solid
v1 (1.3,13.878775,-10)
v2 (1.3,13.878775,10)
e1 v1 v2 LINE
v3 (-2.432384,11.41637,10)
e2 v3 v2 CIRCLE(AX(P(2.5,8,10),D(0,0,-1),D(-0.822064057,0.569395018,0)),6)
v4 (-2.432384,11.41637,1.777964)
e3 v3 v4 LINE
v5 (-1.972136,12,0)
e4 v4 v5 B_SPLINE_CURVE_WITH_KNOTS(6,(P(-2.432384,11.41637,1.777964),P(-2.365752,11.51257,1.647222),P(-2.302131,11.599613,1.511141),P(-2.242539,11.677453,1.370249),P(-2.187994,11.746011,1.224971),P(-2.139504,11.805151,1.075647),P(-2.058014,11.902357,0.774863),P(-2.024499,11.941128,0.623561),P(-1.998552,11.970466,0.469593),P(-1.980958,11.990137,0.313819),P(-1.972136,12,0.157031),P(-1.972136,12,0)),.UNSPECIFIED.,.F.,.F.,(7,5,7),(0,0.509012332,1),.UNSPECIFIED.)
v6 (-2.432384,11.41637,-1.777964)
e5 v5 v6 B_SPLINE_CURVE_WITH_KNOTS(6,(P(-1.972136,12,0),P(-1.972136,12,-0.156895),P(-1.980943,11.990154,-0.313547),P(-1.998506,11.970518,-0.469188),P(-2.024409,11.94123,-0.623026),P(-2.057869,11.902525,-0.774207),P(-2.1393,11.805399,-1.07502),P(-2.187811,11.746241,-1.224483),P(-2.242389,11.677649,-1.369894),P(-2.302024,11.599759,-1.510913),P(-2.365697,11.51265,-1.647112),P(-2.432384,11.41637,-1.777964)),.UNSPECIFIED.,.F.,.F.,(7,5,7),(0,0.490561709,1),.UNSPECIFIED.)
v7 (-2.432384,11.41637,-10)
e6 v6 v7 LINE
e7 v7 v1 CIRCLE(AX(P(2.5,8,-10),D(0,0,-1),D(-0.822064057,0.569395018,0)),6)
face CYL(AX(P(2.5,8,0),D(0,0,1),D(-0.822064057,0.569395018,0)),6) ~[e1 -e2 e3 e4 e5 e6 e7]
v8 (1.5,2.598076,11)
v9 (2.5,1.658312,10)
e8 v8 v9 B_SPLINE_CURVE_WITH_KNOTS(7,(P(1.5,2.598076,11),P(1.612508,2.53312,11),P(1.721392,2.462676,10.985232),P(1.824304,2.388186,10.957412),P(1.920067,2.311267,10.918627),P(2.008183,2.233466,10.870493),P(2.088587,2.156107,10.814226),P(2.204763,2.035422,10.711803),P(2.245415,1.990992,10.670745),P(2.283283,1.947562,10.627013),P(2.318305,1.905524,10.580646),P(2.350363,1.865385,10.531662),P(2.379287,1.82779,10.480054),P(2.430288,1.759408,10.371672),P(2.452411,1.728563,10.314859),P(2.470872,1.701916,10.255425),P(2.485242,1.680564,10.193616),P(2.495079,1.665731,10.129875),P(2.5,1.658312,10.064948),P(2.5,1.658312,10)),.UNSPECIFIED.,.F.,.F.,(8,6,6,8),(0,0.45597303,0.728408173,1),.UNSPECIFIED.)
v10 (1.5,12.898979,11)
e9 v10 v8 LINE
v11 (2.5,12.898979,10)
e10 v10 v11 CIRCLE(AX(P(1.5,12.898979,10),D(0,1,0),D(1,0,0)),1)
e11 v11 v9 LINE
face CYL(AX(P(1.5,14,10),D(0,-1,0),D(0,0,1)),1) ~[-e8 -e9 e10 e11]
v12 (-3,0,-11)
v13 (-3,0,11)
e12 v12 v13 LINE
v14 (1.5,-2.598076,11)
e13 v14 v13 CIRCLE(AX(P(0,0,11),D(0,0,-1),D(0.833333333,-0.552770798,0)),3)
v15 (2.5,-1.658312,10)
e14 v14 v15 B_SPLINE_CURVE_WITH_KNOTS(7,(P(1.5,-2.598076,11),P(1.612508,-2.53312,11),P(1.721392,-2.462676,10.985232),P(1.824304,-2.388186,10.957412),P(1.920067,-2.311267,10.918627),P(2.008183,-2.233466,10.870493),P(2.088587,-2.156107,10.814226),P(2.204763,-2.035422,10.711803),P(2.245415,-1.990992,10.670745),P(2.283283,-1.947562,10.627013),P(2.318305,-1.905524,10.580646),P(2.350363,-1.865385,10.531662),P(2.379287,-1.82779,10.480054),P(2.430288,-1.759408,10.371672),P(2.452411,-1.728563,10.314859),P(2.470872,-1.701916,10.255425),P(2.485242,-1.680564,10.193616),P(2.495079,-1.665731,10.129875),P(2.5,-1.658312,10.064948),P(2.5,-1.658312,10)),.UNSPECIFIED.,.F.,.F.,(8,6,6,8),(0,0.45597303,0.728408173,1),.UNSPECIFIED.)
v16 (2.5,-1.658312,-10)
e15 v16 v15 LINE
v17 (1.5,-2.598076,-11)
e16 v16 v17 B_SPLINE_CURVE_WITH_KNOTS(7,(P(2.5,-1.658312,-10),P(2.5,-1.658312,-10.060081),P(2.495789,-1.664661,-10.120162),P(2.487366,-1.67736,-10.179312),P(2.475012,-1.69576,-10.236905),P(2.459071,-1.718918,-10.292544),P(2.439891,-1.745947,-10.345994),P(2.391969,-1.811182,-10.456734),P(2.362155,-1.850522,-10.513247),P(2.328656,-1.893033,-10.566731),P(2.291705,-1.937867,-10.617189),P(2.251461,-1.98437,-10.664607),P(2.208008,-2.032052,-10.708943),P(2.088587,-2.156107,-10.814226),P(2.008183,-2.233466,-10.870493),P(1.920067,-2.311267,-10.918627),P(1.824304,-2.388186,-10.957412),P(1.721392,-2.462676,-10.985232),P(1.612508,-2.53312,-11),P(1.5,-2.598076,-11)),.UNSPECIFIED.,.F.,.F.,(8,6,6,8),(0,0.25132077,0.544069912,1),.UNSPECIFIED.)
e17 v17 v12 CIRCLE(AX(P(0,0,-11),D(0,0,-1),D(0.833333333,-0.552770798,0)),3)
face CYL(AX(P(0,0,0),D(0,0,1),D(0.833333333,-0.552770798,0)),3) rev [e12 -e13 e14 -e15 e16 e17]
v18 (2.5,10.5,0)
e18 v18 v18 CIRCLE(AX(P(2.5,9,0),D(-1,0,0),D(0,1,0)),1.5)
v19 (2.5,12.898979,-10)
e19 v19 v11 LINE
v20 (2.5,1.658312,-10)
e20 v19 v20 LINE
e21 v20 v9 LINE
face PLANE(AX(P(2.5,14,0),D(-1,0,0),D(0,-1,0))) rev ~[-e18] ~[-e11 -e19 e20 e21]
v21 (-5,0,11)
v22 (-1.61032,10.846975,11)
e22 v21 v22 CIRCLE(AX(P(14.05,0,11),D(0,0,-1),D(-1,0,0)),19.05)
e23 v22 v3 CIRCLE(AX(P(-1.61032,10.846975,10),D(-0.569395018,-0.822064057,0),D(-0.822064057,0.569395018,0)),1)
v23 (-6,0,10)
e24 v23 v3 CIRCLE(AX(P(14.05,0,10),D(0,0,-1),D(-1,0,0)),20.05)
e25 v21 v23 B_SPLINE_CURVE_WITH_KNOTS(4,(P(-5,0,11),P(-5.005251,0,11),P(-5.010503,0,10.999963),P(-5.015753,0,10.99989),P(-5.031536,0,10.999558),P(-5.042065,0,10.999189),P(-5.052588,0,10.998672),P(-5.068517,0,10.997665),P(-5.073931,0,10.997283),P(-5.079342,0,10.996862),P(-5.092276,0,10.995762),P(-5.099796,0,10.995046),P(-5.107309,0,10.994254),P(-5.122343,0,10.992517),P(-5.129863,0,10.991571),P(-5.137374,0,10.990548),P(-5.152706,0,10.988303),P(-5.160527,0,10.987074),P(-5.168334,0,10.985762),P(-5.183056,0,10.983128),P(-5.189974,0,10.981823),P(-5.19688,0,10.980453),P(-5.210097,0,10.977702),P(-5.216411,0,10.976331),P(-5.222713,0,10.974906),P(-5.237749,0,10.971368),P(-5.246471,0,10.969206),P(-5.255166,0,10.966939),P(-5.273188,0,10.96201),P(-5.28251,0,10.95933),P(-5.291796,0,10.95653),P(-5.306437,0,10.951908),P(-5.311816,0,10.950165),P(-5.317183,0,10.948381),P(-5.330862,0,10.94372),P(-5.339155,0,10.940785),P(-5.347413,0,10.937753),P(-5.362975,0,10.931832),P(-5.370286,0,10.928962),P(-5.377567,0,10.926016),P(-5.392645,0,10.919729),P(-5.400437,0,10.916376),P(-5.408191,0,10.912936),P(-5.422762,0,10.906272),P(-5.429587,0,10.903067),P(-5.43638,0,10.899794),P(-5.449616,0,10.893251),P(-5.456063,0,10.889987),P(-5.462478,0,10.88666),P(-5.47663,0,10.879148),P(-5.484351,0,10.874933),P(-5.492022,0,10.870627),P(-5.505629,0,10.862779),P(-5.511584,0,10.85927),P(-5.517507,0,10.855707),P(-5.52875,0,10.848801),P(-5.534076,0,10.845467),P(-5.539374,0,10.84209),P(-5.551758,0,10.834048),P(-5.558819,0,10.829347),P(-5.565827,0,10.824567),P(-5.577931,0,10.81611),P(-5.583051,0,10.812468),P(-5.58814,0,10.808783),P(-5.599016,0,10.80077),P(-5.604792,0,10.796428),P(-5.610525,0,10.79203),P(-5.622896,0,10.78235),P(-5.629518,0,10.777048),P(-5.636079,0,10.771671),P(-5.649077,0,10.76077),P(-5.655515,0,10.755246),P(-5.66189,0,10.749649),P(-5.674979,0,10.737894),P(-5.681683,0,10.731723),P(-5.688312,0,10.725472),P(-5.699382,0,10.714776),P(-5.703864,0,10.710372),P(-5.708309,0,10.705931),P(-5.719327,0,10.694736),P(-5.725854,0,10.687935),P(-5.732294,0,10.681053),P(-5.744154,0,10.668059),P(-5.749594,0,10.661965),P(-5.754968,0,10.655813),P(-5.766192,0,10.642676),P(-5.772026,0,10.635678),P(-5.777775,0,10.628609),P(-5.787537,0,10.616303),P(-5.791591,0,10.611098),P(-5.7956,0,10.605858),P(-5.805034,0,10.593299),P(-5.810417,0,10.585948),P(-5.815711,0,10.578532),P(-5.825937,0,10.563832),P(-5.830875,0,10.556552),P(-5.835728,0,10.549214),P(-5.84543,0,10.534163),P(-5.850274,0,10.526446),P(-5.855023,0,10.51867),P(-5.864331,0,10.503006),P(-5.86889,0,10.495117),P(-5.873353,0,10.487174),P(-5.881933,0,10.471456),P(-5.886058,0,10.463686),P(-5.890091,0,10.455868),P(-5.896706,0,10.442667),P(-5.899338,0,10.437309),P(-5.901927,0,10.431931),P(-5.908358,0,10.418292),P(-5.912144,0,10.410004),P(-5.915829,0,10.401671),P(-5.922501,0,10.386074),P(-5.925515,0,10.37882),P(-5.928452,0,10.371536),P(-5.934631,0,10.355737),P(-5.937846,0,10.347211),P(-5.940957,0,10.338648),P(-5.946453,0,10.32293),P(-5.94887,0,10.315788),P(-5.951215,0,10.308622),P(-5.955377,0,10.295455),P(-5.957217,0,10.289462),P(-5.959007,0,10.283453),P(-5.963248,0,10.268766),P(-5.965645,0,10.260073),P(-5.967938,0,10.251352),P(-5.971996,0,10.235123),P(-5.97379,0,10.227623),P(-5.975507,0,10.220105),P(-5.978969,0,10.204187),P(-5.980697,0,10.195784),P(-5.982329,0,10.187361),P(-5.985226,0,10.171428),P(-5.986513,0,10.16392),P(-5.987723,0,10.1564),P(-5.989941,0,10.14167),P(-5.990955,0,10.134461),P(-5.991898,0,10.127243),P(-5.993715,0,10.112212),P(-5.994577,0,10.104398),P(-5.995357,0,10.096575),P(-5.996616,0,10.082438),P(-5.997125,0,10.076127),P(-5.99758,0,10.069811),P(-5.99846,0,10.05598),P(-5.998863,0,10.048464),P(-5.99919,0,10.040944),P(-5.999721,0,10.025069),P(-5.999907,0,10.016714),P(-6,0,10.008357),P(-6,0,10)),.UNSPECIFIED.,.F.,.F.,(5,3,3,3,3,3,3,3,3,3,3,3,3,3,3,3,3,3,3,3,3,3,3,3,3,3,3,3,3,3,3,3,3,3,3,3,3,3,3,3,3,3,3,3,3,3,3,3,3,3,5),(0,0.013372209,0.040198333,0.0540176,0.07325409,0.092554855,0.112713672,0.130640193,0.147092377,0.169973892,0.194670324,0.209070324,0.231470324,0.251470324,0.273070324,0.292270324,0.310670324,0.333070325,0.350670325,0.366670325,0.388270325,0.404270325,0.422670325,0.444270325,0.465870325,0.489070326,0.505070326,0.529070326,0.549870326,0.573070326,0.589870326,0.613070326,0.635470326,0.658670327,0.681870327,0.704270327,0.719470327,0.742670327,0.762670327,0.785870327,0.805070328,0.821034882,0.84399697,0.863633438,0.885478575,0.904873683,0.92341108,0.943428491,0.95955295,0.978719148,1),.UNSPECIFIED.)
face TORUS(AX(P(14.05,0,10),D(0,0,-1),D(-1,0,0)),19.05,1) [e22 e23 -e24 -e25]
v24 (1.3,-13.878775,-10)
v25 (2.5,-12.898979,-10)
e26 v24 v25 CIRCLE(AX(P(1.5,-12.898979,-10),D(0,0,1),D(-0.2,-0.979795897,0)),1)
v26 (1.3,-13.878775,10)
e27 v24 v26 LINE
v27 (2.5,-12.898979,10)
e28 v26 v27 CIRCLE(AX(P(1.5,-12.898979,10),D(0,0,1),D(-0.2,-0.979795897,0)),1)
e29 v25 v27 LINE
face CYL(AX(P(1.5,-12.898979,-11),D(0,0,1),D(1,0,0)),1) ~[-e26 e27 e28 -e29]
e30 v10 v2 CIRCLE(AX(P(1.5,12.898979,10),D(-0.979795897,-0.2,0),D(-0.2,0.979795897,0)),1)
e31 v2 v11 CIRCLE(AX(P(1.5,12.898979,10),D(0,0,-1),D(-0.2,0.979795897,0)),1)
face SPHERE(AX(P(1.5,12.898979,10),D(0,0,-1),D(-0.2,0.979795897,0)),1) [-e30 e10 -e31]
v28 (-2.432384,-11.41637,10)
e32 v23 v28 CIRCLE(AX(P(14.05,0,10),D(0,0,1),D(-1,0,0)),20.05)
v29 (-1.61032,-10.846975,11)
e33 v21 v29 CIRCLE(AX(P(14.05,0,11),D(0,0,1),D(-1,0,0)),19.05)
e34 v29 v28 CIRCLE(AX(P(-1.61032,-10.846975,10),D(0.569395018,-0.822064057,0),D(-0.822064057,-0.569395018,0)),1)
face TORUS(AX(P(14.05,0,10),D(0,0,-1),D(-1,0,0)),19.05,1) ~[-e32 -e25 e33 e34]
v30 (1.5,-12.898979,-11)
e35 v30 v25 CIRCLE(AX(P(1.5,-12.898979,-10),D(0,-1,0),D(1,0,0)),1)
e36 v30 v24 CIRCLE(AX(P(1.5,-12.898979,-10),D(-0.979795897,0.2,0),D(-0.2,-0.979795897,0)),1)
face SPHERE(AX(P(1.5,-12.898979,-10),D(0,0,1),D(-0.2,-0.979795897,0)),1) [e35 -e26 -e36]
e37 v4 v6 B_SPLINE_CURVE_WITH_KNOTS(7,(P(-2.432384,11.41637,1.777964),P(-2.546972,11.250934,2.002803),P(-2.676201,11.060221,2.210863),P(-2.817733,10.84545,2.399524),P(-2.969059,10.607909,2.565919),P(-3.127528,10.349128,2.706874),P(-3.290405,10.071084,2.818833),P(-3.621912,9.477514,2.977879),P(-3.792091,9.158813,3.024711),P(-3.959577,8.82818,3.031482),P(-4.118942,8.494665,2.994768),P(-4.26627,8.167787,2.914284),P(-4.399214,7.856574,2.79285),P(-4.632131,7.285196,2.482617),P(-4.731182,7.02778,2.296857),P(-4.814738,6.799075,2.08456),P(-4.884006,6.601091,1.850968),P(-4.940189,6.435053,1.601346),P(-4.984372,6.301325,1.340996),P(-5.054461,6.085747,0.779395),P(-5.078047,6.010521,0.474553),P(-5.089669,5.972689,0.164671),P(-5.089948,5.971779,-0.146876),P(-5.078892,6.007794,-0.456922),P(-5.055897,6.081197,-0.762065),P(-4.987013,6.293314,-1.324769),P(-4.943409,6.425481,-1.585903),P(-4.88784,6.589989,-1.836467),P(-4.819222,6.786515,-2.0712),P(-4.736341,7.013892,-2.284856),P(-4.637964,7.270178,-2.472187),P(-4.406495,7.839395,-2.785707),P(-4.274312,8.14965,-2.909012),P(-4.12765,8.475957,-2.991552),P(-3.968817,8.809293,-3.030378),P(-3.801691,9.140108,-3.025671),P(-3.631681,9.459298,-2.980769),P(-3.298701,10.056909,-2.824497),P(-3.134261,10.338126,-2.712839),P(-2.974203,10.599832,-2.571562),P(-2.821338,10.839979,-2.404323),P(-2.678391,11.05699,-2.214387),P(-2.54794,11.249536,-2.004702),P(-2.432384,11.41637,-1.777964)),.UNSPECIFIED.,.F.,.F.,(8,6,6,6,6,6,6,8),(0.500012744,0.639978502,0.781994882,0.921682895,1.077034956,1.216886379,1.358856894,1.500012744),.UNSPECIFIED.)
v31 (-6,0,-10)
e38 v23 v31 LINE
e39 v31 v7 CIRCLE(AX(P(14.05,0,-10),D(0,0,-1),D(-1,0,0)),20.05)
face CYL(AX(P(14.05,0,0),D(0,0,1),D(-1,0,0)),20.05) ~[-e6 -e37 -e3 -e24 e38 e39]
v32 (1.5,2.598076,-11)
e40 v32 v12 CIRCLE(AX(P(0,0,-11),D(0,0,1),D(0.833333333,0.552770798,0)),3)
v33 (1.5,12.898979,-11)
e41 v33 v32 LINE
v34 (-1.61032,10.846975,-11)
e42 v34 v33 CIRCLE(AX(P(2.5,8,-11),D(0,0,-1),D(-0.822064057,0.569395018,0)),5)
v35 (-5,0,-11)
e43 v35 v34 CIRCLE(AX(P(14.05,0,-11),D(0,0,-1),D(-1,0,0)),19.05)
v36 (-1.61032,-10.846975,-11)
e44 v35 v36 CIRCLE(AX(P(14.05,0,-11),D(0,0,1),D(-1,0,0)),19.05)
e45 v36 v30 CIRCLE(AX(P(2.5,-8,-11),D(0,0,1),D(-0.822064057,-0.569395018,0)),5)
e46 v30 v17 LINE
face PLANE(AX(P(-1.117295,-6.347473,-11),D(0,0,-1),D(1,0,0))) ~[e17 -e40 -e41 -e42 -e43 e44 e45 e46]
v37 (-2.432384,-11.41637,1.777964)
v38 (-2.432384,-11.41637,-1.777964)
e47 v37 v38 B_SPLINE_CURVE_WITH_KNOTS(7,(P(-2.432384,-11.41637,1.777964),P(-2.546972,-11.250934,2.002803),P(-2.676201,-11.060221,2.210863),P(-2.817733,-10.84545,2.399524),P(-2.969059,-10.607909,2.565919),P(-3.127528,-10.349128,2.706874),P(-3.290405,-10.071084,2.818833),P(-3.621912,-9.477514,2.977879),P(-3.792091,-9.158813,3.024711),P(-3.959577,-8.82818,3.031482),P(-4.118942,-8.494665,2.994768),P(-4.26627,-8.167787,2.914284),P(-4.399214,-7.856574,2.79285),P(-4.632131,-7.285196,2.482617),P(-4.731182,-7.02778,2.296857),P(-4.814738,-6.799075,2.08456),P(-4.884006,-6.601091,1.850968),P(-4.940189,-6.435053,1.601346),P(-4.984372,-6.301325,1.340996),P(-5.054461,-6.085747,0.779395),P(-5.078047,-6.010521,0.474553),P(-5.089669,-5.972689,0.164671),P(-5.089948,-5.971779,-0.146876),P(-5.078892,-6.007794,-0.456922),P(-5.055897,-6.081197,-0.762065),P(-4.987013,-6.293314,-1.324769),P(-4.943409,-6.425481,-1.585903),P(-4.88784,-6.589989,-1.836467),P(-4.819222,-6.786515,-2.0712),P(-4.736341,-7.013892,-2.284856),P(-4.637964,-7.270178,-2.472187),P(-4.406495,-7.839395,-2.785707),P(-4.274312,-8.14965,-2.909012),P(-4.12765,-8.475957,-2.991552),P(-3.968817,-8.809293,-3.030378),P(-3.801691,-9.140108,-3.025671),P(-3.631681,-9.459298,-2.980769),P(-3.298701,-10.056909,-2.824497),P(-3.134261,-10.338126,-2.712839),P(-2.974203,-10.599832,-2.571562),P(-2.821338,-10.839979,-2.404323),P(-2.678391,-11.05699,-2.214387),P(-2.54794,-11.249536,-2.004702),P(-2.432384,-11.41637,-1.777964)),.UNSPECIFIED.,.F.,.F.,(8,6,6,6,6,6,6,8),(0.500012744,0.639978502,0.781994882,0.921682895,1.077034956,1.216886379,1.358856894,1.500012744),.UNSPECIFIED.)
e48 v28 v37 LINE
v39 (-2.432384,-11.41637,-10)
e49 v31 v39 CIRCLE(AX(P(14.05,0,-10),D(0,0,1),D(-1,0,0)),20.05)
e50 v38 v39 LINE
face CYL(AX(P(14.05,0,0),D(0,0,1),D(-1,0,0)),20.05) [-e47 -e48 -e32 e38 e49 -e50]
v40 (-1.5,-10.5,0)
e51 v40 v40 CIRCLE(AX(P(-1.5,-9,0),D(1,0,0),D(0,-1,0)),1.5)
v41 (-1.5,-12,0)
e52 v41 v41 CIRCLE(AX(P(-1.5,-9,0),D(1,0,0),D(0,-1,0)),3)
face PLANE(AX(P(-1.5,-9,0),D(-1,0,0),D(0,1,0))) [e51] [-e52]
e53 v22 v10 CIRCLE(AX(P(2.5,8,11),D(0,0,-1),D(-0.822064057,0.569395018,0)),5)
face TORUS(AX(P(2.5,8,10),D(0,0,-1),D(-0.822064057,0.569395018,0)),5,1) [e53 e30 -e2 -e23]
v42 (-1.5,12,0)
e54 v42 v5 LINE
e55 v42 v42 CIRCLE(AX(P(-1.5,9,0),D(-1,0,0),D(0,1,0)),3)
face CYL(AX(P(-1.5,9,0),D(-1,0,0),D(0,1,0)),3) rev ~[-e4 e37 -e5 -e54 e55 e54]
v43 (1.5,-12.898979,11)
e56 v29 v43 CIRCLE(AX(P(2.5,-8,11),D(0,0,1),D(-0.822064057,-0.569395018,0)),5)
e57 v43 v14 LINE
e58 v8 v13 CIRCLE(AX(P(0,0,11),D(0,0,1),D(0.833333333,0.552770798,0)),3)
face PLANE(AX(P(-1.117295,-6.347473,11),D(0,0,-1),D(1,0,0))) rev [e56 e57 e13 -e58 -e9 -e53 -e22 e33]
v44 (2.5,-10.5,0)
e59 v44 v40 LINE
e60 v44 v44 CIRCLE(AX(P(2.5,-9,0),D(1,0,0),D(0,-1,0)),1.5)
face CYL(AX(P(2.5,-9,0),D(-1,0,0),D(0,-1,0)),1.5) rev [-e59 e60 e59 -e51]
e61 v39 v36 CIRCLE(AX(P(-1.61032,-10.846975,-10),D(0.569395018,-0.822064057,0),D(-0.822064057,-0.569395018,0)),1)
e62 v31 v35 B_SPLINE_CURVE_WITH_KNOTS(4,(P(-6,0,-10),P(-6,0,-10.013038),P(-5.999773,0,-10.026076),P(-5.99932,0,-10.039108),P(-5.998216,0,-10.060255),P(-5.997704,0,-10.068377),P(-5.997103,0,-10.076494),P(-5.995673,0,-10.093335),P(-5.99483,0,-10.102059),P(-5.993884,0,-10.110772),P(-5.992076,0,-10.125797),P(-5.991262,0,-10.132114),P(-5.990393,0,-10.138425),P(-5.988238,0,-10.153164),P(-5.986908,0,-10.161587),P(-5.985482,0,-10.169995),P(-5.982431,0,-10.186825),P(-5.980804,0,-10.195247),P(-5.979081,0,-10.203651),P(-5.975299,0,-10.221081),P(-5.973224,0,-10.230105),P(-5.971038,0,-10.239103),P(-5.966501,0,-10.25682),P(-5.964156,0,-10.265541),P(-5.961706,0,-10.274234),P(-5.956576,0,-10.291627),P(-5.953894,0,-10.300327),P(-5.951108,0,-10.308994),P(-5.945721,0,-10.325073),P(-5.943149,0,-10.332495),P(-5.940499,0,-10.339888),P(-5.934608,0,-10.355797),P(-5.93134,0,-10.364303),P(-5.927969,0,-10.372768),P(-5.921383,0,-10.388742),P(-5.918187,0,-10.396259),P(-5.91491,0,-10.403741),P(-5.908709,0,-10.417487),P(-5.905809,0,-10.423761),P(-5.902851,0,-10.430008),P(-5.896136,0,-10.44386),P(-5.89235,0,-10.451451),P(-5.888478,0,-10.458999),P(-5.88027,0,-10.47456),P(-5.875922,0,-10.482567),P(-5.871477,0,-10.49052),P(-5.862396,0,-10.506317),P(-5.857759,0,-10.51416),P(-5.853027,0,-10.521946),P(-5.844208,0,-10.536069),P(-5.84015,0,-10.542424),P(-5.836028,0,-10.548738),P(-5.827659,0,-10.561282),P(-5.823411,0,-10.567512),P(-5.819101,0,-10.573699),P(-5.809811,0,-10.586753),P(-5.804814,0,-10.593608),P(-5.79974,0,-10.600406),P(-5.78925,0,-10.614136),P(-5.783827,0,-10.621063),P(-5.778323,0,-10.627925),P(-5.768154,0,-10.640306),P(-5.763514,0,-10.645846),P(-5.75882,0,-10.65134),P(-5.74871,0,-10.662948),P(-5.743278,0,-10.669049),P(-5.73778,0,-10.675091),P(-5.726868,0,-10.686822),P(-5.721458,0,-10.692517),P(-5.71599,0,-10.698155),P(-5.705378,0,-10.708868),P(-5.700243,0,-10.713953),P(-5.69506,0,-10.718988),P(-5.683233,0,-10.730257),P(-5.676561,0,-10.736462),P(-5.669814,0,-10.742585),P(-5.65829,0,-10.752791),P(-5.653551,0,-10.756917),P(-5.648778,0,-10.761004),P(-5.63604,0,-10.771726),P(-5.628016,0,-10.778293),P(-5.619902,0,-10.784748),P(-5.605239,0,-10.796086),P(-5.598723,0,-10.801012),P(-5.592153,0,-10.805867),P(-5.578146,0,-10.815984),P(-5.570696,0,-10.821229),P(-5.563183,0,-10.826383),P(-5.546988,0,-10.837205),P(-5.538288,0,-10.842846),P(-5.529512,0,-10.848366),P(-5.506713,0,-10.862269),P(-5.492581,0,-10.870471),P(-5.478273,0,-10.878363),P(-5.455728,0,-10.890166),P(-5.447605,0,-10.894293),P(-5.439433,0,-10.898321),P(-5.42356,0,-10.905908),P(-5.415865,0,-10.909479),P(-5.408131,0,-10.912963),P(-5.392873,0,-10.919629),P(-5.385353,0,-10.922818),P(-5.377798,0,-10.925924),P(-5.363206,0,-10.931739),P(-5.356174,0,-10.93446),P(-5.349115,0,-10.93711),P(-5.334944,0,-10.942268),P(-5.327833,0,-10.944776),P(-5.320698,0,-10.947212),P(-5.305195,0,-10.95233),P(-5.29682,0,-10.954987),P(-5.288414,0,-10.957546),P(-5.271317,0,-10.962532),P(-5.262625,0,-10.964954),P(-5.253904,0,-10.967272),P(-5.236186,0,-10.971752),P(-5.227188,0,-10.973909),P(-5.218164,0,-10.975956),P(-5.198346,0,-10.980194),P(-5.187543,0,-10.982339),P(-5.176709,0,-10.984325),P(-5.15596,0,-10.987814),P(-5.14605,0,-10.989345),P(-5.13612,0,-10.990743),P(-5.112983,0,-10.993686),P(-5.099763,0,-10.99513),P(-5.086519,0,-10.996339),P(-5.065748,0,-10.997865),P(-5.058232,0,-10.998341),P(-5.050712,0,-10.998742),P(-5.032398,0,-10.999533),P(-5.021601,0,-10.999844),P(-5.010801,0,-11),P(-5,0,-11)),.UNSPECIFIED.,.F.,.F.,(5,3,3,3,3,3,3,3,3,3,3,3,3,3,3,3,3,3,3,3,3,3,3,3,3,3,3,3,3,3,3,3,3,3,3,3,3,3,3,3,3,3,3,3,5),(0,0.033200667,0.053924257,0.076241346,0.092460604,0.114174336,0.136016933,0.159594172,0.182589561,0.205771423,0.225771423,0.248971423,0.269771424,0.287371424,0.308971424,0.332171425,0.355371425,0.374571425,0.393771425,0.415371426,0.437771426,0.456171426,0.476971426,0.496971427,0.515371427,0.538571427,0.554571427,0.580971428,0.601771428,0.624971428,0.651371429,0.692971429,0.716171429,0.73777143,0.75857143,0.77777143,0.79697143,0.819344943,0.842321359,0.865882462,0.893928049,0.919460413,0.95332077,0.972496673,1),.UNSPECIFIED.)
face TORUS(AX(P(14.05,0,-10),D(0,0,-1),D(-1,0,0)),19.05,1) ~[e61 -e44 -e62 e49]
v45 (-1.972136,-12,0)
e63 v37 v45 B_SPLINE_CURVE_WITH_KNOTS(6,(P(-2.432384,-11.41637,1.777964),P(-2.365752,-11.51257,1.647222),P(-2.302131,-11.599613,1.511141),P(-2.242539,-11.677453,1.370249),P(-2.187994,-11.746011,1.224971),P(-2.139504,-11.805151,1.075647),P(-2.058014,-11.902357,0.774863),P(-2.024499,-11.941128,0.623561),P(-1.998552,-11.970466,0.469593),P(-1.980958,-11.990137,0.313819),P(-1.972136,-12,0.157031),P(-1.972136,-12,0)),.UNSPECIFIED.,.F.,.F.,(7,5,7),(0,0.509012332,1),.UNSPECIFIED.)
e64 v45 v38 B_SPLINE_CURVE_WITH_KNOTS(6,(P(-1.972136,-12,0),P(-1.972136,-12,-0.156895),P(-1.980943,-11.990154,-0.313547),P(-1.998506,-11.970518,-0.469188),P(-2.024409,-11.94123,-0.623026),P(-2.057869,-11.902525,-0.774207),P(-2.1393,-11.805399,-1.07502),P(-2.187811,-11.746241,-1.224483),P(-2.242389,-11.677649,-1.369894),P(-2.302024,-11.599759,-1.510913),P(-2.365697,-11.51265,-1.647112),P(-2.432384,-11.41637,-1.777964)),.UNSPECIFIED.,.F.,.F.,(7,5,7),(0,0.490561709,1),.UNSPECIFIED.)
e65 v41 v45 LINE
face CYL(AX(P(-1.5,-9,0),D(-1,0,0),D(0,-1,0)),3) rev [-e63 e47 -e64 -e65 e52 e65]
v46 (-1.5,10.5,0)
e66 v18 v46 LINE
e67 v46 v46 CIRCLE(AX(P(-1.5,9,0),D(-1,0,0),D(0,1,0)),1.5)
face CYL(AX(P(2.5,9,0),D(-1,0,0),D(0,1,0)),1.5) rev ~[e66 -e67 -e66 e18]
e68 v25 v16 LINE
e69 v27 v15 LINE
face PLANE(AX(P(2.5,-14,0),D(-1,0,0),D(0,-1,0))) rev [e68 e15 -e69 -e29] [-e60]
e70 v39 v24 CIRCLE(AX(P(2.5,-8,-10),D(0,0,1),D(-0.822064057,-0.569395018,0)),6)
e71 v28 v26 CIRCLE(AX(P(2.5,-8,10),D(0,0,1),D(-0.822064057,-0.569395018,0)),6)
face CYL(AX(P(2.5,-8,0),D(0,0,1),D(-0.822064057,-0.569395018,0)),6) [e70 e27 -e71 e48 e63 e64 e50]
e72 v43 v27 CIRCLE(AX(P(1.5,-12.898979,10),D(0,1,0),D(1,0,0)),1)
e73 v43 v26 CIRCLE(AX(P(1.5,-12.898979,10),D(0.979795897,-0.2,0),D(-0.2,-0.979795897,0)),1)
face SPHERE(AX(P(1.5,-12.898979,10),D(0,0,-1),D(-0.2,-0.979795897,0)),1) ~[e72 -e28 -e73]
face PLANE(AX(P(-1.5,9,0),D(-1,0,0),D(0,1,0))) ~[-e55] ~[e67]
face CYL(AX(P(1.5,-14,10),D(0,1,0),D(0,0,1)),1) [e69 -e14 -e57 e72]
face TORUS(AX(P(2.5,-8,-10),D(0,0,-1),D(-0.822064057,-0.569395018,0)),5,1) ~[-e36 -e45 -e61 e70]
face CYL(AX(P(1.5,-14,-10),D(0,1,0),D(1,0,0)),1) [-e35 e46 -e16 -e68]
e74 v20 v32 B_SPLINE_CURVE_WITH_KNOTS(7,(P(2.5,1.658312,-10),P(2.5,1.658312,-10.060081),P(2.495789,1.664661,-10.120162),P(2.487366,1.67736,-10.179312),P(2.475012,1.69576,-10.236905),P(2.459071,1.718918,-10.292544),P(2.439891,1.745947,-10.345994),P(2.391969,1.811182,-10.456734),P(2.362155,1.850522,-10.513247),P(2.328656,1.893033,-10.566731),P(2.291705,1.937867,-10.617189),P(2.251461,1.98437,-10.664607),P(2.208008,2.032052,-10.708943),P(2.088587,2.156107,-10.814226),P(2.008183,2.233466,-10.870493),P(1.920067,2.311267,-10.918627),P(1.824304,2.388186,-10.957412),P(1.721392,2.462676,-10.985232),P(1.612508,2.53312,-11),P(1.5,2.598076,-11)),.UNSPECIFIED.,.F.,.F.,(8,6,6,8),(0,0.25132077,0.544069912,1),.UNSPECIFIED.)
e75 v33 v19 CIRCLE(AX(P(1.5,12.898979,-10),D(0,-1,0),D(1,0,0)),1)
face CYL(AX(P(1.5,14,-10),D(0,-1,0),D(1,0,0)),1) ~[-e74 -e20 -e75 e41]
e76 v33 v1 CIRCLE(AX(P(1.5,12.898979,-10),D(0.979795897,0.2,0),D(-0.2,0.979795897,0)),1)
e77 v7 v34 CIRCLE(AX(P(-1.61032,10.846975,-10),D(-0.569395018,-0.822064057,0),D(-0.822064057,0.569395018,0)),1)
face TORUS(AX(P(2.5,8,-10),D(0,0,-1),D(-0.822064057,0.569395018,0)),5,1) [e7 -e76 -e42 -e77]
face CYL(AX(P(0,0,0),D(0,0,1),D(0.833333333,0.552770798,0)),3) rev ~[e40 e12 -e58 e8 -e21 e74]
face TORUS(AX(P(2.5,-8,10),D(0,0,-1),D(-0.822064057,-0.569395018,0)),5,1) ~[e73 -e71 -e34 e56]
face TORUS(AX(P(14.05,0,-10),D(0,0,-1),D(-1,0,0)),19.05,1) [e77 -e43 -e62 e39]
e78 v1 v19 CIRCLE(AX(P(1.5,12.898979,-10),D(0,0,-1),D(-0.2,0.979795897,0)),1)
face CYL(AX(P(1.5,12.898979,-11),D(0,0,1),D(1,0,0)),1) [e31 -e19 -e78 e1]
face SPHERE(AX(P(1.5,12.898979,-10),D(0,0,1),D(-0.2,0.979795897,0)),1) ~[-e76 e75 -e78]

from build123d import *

# Parameters (mm, degrees)
BOSS_EXTRU_1_DEPTH = 11
CONG_1_R           = 1


with BuildPart() as part:
    # Esquisse1 → Boss.-Extru.1 (new, symmetric)
    with BuildSketch(Plane.XY):
        with BuildLine():
            Line((-3, 0), (-6, 0))
            ThreePointArc((-6, 0), (-5.08732356, 5.980413612), (-2.432384342, 11.416370107))
            ThreePointArc((-2.432384342, 11.416370107), (-0.284041968, 13.314989212), (2.5, 14))
            Line((2.5, 14), (2.5, 1.658312395))
            ThreePointArc((2.5, 1.658312395), (-0.866025404, 2.872281323), (-3, 0))
        make_face()
    extrude(amount=BOSS_EXTRU_1_DEPTH, both=True)

    # Esquisse2 → Enlèvement de matière-Révolution1 (revolve, cut)
    with BuildSketch(Plane.XY, mode=Mode.PRIVATE) as enl_vement_de_mati_re_r_volution1_sk:
        Polygon((2.5, 7.5), (-1.5, 7.5), (-1.5, 6), (-5.081191808, 6), (-5.081191808, 9), (2.5, 9), align=None)
    revolve(enl_vement_de_mati_re_r_volution1_sk.sketch.rotate(Axis((-5.081191808, 9, 0), (-1, 0, 0)), 180), axis=Axis((-5.081191808, 9, 0), (-1, 0, 0)), mode=Mode.SUBTRACT)

    # Congé1
    cong_1_edges = [part.edges().sort_by_distance(p)[0] for p in [
        (-0.284041968, 13.314989212, 11),
        (-5.08732356, 5.980413612, 11),
        (-5.08732356, 5.980413612, -11),
        (-0.284041968, 13.314989212, -11),
        (2.5, 7.829156198, -11),
        (2.5, 7.829156198, 11),
        (2.5, 14, 0),
    ]]
    fillet(cong_1_edges, radius=CONG_1_R)

    # Symétrie1: part across plane


with BuildPart() as part_1:
    add(part.part)
    add(part.part.mirror(Plane(origin=(-3, 0, 11), x_dir=(0, 0, 1), z_dir=(0, 1, 0))))


solid = part_1.part
